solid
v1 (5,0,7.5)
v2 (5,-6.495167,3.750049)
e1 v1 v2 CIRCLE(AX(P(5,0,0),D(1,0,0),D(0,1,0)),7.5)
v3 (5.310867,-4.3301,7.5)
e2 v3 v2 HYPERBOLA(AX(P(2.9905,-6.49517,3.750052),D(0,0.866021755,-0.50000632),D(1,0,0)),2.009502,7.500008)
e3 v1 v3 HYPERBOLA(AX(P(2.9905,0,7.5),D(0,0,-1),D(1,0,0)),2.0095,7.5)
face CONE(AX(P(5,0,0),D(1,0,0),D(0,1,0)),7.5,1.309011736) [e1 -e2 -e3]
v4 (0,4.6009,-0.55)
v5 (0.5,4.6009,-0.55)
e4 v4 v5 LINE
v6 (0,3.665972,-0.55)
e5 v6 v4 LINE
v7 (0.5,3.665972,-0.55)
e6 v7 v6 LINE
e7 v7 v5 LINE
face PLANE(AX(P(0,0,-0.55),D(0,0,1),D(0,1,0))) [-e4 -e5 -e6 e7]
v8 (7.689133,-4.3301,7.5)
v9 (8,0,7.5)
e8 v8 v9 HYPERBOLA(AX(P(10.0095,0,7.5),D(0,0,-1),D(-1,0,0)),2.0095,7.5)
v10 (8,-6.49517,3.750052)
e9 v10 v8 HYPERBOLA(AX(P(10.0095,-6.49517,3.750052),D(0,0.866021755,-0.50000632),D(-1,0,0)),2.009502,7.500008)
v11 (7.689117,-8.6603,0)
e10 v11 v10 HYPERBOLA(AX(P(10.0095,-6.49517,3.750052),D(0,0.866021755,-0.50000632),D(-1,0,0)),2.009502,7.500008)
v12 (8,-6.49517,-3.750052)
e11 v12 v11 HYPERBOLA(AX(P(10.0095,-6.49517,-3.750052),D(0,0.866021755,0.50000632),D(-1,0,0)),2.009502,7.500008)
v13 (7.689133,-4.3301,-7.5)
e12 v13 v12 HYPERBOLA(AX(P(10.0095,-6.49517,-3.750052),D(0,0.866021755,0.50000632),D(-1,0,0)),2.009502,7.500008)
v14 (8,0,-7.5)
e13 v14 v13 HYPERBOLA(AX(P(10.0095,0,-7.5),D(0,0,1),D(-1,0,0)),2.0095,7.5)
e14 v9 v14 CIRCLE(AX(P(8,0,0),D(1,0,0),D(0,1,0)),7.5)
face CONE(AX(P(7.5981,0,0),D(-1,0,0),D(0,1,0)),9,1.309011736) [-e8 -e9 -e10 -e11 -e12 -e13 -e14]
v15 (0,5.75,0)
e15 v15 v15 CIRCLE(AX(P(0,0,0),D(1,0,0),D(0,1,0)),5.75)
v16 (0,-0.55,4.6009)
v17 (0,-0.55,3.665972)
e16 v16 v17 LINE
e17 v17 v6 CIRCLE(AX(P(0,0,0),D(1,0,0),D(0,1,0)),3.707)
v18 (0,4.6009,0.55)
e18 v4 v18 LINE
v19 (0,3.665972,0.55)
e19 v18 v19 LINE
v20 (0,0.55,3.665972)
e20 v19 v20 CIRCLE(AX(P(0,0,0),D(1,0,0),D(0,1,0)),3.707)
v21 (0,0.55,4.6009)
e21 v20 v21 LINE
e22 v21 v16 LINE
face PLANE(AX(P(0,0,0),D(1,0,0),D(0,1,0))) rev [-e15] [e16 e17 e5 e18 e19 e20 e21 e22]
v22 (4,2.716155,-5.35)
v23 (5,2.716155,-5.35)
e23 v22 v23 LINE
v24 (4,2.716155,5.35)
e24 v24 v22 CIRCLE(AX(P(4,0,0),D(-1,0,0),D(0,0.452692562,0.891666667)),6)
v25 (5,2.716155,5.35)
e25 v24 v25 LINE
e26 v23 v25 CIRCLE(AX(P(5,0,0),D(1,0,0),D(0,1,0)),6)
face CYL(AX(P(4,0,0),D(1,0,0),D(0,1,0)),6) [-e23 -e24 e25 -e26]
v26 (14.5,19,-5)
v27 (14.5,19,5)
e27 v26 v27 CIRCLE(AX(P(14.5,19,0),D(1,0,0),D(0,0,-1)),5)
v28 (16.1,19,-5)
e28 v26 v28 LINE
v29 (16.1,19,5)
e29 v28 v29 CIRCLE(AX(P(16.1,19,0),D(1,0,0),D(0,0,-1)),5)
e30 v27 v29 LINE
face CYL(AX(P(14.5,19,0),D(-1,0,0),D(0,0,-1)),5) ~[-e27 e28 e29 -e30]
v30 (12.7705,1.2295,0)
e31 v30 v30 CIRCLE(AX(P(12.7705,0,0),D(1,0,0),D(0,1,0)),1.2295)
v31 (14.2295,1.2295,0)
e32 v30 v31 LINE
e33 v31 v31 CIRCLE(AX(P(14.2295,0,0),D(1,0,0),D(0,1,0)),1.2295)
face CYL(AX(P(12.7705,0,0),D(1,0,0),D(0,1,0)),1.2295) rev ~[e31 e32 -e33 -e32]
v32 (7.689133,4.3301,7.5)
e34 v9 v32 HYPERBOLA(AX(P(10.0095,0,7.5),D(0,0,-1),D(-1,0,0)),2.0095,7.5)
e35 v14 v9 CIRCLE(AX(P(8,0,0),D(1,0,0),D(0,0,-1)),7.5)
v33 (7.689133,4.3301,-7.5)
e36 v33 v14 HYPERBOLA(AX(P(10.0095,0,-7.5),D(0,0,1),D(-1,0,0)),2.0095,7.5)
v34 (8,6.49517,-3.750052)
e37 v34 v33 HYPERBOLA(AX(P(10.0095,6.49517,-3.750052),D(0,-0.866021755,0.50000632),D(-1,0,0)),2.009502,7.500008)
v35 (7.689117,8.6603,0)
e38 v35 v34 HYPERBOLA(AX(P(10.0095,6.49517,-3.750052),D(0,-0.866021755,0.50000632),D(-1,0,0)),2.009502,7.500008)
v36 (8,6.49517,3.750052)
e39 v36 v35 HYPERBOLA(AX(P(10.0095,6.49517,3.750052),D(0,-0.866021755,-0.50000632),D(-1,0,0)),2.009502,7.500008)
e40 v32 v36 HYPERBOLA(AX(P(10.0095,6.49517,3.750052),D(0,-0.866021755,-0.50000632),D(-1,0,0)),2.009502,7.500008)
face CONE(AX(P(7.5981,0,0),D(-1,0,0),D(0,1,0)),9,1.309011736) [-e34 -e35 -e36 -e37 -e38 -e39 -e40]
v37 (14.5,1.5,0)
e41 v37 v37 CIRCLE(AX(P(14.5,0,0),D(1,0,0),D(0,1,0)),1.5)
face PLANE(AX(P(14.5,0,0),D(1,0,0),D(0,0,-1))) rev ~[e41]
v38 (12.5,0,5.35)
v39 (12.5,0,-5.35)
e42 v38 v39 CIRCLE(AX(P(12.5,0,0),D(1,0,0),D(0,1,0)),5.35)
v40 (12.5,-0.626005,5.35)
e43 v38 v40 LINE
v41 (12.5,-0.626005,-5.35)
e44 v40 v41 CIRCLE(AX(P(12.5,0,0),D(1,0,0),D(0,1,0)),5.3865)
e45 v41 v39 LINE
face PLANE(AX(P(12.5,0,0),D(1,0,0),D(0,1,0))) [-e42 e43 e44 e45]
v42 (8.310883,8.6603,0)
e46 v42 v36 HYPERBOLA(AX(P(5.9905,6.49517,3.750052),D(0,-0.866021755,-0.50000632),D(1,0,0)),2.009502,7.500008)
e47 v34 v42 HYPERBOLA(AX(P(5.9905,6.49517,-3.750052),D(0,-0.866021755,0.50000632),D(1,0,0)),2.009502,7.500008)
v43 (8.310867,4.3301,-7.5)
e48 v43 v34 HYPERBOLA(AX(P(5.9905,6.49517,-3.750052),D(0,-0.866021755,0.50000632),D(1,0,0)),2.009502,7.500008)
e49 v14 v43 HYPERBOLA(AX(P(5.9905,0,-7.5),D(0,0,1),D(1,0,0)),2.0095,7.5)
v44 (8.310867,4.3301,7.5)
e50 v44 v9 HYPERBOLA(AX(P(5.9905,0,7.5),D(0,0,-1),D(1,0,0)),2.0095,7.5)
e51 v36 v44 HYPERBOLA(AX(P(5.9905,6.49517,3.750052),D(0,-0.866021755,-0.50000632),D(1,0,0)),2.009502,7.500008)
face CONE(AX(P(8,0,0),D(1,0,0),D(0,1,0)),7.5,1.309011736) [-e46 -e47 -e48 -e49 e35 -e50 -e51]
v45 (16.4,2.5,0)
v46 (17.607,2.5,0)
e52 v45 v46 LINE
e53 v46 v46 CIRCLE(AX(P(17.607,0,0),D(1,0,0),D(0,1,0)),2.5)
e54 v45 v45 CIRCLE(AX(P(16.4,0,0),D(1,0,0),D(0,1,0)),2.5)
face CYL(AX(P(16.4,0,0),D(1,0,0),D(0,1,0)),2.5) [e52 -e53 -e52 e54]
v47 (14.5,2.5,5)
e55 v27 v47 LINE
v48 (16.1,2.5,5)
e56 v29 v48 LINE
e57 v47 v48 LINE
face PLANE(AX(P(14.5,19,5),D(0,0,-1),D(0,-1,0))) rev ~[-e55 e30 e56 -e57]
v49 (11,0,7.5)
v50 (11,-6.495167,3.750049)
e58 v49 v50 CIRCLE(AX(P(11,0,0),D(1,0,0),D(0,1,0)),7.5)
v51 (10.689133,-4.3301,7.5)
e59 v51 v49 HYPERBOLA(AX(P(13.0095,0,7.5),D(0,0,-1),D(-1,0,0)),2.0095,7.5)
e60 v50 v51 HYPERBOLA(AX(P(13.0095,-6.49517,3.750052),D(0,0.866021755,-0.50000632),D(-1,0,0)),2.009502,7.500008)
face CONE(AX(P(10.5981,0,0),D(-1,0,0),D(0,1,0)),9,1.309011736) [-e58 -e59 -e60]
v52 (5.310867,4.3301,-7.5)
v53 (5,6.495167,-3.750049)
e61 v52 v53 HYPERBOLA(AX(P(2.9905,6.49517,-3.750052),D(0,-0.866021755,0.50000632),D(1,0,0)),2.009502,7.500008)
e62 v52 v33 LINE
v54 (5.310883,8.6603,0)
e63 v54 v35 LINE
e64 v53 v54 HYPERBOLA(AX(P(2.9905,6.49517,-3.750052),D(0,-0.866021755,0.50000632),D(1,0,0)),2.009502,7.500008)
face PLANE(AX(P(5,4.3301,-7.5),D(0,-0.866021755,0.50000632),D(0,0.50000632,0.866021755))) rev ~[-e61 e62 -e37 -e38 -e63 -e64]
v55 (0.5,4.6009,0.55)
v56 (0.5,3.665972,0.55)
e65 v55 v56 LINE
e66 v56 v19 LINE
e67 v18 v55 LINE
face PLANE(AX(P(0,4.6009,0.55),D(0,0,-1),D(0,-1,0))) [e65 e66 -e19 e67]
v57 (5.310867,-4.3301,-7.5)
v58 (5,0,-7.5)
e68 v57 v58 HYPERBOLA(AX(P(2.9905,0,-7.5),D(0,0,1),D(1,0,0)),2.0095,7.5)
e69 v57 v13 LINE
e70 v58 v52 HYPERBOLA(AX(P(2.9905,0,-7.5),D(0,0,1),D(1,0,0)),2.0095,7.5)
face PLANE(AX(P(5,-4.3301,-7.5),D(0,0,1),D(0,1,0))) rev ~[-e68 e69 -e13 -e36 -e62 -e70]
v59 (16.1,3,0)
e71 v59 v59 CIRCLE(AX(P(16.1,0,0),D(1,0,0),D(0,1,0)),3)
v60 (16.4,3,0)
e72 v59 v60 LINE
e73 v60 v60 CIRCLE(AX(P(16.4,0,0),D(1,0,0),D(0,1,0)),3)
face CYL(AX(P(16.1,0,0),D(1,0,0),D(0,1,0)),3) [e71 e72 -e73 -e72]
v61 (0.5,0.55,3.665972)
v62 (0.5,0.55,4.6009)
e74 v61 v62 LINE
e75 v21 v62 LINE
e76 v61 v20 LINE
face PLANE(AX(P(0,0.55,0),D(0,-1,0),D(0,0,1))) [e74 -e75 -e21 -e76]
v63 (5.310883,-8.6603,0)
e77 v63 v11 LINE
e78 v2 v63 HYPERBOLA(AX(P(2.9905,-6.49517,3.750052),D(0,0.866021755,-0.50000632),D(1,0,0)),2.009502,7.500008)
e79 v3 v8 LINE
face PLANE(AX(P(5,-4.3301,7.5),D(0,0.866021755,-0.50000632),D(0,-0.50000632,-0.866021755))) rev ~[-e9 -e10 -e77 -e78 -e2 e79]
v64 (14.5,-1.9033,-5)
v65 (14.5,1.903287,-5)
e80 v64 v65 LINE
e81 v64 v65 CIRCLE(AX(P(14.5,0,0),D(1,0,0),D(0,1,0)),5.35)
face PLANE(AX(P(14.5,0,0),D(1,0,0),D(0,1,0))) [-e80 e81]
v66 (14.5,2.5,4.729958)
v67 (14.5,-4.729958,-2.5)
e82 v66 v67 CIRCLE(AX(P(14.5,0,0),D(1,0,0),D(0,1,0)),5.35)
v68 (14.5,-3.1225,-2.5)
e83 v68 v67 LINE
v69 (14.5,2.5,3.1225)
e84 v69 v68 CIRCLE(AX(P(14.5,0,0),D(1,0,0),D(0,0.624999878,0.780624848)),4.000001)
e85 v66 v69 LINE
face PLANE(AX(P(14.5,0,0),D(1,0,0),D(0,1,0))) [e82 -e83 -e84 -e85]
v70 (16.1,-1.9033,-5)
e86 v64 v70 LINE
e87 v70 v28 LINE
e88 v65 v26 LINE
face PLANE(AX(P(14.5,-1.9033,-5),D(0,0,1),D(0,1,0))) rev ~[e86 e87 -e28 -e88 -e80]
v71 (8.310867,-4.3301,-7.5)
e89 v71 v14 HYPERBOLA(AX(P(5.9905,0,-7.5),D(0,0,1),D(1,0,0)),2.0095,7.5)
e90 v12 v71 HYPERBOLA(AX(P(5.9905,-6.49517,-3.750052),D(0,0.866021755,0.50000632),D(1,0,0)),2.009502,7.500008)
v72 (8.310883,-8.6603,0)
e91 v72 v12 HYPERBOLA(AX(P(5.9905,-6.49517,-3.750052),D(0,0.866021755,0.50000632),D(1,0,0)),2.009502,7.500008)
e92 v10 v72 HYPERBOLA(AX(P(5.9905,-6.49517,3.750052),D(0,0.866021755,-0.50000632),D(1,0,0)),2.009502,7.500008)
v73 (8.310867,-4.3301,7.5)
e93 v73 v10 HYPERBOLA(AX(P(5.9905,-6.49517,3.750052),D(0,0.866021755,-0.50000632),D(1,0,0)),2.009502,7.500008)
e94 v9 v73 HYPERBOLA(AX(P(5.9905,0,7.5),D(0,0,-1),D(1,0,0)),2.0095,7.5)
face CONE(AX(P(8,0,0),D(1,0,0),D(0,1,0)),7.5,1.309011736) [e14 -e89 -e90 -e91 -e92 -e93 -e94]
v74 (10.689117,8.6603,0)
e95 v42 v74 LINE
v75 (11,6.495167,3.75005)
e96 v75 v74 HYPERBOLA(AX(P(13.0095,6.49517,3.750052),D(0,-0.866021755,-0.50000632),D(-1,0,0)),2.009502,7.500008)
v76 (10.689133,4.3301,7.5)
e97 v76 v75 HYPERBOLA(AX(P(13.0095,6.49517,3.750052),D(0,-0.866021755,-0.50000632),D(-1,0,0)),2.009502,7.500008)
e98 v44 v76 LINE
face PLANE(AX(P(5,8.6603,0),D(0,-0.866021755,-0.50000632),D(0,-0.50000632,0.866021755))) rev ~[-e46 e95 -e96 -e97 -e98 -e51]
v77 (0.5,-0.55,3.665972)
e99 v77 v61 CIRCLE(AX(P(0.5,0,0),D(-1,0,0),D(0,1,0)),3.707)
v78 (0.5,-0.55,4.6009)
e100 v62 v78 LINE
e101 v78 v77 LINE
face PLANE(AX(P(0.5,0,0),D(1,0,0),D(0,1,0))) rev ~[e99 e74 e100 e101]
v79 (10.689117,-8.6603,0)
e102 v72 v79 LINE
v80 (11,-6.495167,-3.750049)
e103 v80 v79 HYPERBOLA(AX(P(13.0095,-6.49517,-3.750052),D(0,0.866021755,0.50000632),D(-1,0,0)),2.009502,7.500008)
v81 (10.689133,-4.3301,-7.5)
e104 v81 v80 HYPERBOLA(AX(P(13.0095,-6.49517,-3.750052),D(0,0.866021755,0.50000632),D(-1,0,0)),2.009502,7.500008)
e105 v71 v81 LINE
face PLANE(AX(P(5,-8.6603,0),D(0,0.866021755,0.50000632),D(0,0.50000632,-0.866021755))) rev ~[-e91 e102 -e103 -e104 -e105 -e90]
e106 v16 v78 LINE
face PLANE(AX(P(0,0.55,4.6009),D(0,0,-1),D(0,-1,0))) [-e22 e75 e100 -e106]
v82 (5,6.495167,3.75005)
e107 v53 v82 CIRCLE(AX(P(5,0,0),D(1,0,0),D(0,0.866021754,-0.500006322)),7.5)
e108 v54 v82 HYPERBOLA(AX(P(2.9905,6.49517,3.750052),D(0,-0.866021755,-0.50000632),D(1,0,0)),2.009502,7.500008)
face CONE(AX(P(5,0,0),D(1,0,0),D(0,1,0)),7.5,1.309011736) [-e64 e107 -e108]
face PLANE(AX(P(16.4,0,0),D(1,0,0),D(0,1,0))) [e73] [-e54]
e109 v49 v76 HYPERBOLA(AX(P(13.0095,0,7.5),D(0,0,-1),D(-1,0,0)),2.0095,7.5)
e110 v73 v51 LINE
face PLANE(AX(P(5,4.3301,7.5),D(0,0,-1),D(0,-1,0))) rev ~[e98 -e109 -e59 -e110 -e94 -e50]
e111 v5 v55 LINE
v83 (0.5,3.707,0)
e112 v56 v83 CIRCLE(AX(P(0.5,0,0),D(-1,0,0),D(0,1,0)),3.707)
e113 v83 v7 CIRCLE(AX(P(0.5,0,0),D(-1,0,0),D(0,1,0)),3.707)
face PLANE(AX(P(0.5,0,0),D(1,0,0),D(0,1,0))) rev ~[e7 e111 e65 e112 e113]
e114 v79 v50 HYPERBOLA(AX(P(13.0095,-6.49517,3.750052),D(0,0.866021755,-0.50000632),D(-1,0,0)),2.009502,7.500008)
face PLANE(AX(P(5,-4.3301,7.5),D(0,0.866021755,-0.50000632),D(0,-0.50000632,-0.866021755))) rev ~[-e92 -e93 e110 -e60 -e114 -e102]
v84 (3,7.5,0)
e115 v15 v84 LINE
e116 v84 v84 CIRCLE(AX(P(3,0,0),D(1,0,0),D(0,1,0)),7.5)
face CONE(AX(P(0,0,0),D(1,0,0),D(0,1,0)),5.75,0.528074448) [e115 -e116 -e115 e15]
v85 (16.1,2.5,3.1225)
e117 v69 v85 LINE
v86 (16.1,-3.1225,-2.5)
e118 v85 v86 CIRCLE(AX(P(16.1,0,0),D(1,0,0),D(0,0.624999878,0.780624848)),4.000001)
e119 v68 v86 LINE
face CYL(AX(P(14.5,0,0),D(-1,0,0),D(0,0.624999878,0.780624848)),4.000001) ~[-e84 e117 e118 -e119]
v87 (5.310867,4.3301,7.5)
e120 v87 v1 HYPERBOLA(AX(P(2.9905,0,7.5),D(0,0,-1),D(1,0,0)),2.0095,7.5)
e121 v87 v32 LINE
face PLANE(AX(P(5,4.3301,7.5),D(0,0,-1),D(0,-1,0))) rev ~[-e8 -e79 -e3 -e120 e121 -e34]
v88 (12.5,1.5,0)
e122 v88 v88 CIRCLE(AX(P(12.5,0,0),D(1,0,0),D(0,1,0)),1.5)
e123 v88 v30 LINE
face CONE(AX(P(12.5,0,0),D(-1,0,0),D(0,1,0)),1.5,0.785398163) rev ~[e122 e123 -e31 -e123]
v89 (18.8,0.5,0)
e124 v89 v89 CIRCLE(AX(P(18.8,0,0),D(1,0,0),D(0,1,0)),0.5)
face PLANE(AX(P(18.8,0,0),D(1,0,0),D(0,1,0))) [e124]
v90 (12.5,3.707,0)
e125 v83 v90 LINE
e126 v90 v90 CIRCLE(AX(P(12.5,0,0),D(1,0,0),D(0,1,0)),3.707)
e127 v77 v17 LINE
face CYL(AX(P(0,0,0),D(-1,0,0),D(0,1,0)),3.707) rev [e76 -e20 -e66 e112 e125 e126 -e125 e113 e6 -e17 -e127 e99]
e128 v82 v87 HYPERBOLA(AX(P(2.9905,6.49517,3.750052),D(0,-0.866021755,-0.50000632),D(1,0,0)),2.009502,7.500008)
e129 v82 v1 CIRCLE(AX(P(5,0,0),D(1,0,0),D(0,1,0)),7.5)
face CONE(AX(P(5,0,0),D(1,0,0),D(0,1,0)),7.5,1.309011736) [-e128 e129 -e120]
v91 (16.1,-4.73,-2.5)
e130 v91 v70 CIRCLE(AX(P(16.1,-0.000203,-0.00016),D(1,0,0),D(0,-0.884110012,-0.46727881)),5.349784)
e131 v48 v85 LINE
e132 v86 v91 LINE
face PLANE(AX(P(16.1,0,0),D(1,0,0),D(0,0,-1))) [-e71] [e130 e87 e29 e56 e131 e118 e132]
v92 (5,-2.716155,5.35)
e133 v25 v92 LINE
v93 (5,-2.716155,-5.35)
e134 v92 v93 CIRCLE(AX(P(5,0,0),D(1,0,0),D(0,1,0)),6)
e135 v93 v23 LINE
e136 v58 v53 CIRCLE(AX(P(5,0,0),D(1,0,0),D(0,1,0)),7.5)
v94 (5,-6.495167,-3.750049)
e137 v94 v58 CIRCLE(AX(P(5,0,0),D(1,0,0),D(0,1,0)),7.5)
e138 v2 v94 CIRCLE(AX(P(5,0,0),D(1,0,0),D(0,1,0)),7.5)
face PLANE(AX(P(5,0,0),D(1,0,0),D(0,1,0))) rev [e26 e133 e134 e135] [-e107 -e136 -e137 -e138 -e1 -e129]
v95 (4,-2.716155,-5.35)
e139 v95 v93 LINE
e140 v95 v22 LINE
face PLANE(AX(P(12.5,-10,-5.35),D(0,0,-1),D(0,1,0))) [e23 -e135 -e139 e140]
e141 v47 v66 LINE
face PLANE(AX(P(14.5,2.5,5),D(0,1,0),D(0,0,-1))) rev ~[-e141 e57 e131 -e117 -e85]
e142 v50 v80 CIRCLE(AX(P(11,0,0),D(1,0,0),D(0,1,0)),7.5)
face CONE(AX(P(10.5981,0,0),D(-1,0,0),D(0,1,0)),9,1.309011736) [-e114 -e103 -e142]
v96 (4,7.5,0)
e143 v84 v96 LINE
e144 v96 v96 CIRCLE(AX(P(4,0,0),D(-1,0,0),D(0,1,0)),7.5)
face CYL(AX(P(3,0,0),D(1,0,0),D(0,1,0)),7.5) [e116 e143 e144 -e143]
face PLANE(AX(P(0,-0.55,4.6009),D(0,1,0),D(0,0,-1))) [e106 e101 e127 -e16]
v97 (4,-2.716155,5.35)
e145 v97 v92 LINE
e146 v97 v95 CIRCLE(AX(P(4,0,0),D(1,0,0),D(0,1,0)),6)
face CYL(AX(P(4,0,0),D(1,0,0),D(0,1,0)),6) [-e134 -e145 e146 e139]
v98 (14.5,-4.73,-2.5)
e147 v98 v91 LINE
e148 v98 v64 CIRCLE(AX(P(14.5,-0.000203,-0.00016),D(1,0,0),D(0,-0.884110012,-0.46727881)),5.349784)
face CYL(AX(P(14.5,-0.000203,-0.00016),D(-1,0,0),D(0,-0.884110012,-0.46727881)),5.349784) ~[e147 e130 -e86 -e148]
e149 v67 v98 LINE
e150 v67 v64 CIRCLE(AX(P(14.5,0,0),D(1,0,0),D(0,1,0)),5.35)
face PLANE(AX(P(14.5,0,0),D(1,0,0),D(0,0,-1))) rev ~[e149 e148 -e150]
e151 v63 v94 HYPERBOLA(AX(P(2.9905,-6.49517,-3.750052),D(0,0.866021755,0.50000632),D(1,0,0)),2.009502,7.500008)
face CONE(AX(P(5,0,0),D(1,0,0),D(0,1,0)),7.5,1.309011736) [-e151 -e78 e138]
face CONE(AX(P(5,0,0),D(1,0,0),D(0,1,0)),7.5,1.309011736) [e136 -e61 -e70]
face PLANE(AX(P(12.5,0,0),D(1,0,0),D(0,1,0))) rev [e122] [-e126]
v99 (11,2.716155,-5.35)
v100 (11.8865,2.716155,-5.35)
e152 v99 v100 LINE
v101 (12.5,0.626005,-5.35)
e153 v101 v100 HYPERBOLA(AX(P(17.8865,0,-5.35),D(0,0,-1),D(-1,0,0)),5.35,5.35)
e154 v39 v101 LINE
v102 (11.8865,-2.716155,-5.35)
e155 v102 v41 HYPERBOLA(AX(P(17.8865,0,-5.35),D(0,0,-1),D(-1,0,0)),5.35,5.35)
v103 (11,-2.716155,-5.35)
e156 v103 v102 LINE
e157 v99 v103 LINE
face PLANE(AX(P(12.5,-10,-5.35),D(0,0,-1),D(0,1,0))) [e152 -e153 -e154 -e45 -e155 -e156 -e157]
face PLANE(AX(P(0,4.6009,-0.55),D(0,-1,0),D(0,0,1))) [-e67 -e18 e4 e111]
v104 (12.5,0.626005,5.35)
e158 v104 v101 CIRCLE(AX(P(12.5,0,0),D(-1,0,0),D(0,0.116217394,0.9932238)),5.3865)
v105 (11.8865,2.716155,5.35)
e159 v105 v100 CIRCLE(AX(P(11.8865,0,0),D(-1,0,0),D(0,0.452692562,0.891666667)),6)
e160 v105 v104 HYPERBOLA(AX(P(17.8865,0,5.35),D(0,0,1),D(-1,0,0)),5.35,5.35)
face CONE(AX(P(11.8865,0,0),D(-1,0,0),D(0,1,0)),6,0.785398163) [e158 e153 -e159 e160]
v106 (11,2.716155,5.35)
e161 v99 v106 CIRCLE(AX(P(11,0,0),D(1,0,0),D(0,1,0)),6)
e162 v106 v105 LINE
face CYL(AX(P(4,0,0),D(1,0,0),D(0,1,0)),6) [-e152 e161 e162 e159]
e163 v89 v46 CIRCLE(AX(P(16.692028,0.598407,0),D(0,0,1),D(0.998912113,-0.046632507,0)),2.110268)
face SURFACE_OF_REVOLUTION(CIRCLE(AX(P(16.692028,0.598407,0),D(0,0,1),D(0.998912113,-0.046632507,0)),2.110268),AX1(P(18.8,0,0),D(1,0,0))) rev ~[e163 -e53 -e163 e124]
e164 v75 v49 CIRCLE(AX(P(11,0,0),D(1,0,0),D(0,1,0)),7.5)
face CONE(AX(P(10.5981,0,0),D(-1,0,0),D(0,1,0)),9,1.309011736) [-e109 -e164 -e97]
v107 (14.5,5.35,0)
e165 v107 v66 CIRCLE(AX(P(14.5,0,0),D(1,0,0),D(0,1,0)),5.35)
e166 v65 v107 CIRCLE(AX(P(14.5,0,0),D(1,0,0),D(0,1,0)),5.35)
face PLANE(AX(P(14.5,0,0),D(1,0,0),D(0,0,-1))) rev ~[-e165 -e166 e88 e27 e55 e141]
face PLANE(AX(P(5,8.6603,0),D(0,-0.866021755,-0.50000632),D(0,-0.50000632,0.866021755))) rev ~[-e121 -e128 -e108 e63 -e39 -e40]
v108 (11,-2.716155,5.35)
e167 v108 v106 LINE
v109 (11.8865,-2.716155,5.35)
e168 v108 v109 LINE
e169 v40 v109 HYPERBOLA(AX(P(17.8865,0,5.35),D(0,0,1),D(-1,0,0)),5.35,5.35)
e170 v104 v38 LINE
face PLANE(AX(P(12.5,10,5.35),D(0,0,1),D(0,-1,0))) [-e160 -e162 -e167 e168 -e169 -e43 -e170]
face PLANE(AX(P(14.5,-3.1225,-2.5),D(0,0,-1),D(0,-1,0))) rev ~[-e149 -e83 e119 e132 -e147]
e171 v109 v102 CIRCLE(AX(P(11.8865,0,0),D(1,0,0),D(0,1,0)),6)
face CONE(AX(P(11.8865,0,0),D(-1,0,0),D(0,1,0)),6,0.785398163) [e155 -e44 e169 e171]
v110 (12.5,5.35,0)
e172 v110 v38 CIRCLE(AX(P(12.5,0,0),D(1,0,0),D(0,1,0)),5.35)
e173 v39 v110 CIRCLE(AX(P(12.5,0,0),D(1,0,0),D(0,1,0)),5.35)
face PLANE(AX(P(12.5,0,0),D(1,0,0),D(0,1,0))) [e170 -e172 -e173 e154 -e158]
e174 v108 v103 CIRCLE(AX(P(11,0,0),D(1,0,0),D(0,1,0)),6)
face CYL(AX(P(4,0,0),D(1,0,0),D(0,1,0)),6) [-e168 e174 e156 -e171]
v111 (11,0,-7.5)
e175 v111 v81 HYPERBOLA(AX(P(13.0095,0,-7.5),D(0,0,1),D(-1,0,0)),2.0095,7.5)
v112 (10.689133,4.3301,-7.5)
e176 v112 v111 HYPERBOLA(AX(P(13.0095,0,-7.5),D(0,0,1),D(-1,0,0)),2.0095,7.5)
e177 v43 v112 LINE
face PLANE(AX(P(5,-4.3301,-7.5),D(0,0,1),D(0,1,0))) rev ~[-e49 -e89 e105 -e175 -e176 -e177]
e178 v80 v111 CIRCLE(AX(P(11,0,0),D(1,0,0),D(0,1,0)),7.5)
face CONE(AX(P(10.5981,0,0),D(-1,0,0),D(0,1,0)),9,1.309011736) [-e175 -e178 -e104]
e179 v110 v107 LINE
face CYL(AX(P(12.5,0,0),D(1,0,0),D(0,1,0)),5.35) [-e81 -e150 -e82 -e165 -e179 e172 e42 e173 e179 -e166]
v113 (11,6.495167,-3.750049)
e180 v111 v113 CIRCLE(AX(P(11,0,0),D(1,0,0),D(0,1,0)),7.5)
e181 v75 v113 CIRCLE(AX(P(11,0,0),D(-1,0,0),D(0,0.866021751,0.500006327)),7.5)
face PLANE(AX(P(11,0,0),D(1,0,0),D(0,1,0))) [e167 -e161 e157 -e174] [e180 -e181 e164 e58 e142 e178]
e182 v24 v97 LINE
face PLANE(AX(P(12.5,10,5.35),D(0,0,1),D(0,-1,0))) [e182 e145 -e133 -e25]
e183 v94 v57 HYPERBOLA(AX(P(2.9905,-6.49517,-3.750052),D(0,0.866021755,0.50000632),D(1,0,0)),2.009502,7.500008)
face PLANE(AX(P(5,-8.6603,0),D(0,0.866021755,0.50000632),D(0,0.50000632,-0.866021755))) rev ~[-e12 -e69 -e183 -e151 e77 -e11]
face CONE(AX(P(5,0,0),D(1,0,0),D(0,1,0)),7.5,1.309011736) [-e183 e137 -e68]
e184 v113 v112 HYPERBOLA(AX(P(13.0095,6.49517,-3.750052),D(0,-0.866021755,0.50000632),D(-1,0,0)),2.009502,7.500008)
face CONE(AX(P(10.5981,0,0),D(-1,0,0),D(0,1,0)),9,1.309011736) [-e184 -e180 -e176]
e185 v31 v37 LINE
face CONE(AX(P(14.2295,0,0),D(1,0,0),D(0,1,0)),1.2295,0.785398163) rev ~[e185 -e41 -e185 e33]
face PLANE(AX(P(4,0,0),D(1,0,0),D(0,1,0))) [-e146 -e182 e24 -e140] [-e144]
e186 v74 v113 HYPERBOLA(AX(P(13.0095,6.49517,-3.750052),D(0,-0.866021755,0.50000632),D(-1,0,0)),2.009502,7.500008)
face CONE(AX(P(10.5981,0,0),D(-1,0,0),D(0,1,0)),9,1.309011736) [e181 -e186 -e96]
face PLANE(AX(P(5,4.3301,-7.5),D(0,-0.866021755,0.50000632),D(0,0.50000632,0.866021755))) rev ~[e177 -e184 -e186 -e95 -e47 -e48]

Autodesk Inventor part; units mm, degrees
sketch "Sketch_2" plane through (0, 0, 0) normal (0, 0, 1) x (1, 0, 0)
  line L0 (4, 0) -> (0, 0)
  line L1 (0, 0) -> (0, 5.75)
  line L2 (0, 5.75) -> (3, 7.5)
  line L3 (3, 7.5) -> (4, 7.5)
  line L4 (4, 7.5) -> (4, 0)
  line L5 (4, 0) -> (0, 0)
revolve "Revolution1" add sketch "Sketch_2" angle 360 about axis through (4, 0, 0) along (1, 0, 0)
sketch "Sketch_5" plane through (0, 0, 0) normal (0, 0, 1) x (1, 0, 0)
  line L0 (12.5, 0) -> (4, 0)
  line L1 (4, 0) -> (4, 6)
  line L2 (4, 6) -> (11.8865, 6)
  line L3 (11.8865, 6) -> (12.5, 5.3865)
  line L4 (12.5, 5.3865) -> (12.5, 0)
  line L5 (12.5, 0) -> (4, 0)
revolve "Revolution2" add sketch "Sketch_5" angle 360 about axis through (12.5, 0, 0) along (1, 0, 0)
thread "Thread1" size "M12x1" class "6g" standard "ISO Metric profile" full length
sketch "Sketch_13" plane through (12.5, 0, 0) normal (1, 0, 0) x (0, 0, -1)
  line L0 (-10, -20) -> (10, -20)
  line L1 (10, -20) -> (10, 20)
  line L2 (10, 20) -> (-10, 20)
  line L3 (-10, 20) -> (-10, -20)
  line L4 (-5.35, -10) -> (5.35, -10)
  line L5 (5.35, -10) -> (5.35, 10)
  line L6 (5.35, 10) -> (-5.35, 10)
  line L7 (-5.35, 10) -> (-5.35, -10)
extrude "Extrusion1" cut sketch "Sketch_13" against normal blind 8.5
sketch "Sketch_1" plane through (0, 0, 0) normal (0, 0, 1) x (1, 0, 0)
  line L0 (8, 0) -> (5, 0)
  line L1 (5, 0) -> (5, 7.5)
  line L2 (5, 7.5) -> (5.4019, 9)
  line L3 (5.4019, 9) -> (7.5981, 9)
  line L4 (7.5981, 9) -> (8, 7.5)
  line L5 (8, 7.5) -> (8, 0)
  line L6 (8, 0) -> (5, 0)
revolve "Revolution3" add sketch "Sketch_1" angle 360 about axis through (8, 0, 0) along (1, 0, 0)
sketch "Sketch_4" plane through (0, 0, 0) normal (0, 0, 1) x (1, 0, 0)
  line L0 (11, 0) -> (8, 0)
  line L1 (8, 0) -> (8, 7.5)
  line L2 (8, 7.5) -> (8.4019, 9)
  line L3 (8.4019, 9) -> (10.5981, 9)
  line L4 (10.5981, 9) -> (11, 7.5)
  line L5 (11, 7.5) -> (11, 0)
  line L6 (11, 0) -> (8, 0)
revolve "Revolution4" add sketch "Sketch_4" angle 360 about axis through (11, 0, 0) along (1, 0, 0)
sketch "Sketch_3" plane through (5, 0, 0) normal (1, 0, 0) x (0, 0, -1)
  line L0 (-15, -15) -> (15, -15)
  line L1 (15, -15) -> (15, 15)
  line L2 (15, 15) -> (-15, 15)
  line L3 (-15, 15) -> (-15, -15)
  line L4 (-7.5, 4.3301) -> (-7.5, -4.3301)
  line L5 (-7.5, -4.3301) -> (0, -8.6603)
  line L6 (0, -8.6603) -> (7.5, -4.3301)
  line L7 (7.5, -4.3301) -> (7.5, 4.3301)
  line L8 (7.5, 4.3301) -> (0, 8.6603)
  line L9 (0, 8.6603) -> (-7.5, 4.3301)
extrude "Extrusion2" cut sketch "Sketch_3" along normal blind 6
sketch "Sketch_7" plane through (0, 0, 0) normal (1, 0, 0) x (0, 1, 0)
  circle A0 centre (0, 0) radius 3.707
extrude "Extrusion3" cut sketch "Sketch_7" along normal blind 12.5
sketch "Sketch_6" plane through (0, 0, 0) normal (0, 0, 1) x (1, 0, 0)
  line L0 (14.5, 0) -> (12.5, 0)
  line L1 (12.5, 0) -> (12.5, 5.35)
  line L2 (12.5, 5.35) -> (14.5, 5.35)
  line L3 (14.5, 5.35) -> (14.5, 0)
  line L4 (14.5, 0) -> (12.5, 0)
revolve "Revolution5" add sketch "Sketch_6" angle 360 about axis through (14.5, 0, 0) along (1, 0, 0)
sketch "Sketch_8" plane through (0, 0, 0) normal (0, 0, 1) x (1, 0, 0)
  line L0 (14.5, 0) -> (12.5, 0)
  line L1 (12.5, 0) -> (12.5, 1.5)
  line L2 (12.5, 1.5) -> (12.7705, 1.2295)
  line L3 (12.7705, 1.2295) -> (14.2295, 1.2295)
  line L4 (14.2295, 1.2295) -> (14.5, 1.5)
  line L5 (14.5, 1.5) -> (14.5, 0)
  line L6 (14.5, 0) -> (12.5, 0)
revolve "Revolution6" cut sketch "Sketch_8" angle 360 about axis through (14.5, 0, 0) along (1, 0, 0)
thread "Thread2" size "M3x0.5" class "6H" standard "ISO Metric profile" full length
sketch "Sketch_9" plane through (0, 0, 0) normal (1, 0, 0) x (0, 1, 0)
  line L0 (0, 0.55) -> (0, -0.55)
  line L1 (0, -0.55) -> (4.6009, -0.55)
  line L2 (4.6009, -0.55) -> (4.6009, 0.55)
  line L3 (4.6009, 0.55) -> (0, 0.55)
extrude "Extrusion4" cut sketch "Sketch_9" along normal blind 0.5
sketch "Sketch_10" plane through (0, 0, 0) normal (1, 0, 0) x (0, 1, 0)
  line L0 (0.55, 4.6009) -> (-0.55, 4.6009)
  line L1 (-0.55, 4.6009) -> (-0.55, 0)
  line L2 (-0.55, 0) -> (0.55, 0)
  line L3 (0.55, 0) -> (0.55, 4.6009)
extrude "Extrusion5" cut sketch "Sketch_10" along normal blind 0.5
sketch "Sketch_14" plane through (14.5, 0, 0) normal (1, 0, 0) x (0, 0, -1)
  line L0 (-5, 19) -> (-5, 2.5)
  line L1 (-5, 2.5) -> (-3.1225, 2.5)
  arc A0 (-3.1225, 2.5) -> (2.5, -3.1225) centre (0, 0) ccw
  line L2 (2.5, -3.1225) -> (2.5, -4.73)
  arc A1 (2.5, -4.73) -> (5, -1.9033) centre (0, 0) ccw
  line L3 (5, -1.9033) -> (5, 19)
  arc A2 (5, 19) -> (-5, 19) centre (0, 19) ccw
extrude "Extrusion6" add sketch "Sketch_14" along normal blind 1.6
sketch "Sketch_15" plane through (0, 0, 0) normal (0, 0, 1) x (1, 0, 0)
  line L0 (18.8, 0) -> (16.1, 0)
  line L1 (16.1, 0) -> (16.1, 3)
  line L2 (16.1, 3) -> (16.4, 3)
  line L3 (16.4, 3) -> (16.4, 2.5)
  line L4 (16.4, 2.5) -> (17.607, 2.5)
  arc A0 (18.8, 0.5) -> (17.607, 2.5) centre (16.692, 0.5984) ccw
  line L5 (18.8, 0.5) -> (18.8, 0)
  line L6 (18.8, 0) -> (16.1, 0)
revolve "Revolution7" add sketch "Sketch_15" angle 360 about axis through (18.8, 0, 0) along (1, 0, 0)
ref_plane "1_to_k_XY" through (0.5, 0, 0) normal (1, 0, 0) x (0, 0, -1)
ref_plane "1_to_k_YZ" through (0.5, 0, 0) normal (0, 0, -1) x (0, 1, 0)
ref_plane "1_to_k_ZX" through (0.5, 0, 0) normal (0, 1, 0) x (1, 0, 0)
ref_plane "1_TO_2_XY" through (0, 0, 0) normal (1, 0, 0) x (0, 0, -1)
ref_plane "1_TO_2_YZ" through (0, 0, 0) normal (0, 0, -1) x (0, 1, 0)
ref_plane "1_TO_2_ZX" through (0, 0, 0) normal (0, 1, 0) x (1, 0, 0)
properties part number "LOCNL2_1"
